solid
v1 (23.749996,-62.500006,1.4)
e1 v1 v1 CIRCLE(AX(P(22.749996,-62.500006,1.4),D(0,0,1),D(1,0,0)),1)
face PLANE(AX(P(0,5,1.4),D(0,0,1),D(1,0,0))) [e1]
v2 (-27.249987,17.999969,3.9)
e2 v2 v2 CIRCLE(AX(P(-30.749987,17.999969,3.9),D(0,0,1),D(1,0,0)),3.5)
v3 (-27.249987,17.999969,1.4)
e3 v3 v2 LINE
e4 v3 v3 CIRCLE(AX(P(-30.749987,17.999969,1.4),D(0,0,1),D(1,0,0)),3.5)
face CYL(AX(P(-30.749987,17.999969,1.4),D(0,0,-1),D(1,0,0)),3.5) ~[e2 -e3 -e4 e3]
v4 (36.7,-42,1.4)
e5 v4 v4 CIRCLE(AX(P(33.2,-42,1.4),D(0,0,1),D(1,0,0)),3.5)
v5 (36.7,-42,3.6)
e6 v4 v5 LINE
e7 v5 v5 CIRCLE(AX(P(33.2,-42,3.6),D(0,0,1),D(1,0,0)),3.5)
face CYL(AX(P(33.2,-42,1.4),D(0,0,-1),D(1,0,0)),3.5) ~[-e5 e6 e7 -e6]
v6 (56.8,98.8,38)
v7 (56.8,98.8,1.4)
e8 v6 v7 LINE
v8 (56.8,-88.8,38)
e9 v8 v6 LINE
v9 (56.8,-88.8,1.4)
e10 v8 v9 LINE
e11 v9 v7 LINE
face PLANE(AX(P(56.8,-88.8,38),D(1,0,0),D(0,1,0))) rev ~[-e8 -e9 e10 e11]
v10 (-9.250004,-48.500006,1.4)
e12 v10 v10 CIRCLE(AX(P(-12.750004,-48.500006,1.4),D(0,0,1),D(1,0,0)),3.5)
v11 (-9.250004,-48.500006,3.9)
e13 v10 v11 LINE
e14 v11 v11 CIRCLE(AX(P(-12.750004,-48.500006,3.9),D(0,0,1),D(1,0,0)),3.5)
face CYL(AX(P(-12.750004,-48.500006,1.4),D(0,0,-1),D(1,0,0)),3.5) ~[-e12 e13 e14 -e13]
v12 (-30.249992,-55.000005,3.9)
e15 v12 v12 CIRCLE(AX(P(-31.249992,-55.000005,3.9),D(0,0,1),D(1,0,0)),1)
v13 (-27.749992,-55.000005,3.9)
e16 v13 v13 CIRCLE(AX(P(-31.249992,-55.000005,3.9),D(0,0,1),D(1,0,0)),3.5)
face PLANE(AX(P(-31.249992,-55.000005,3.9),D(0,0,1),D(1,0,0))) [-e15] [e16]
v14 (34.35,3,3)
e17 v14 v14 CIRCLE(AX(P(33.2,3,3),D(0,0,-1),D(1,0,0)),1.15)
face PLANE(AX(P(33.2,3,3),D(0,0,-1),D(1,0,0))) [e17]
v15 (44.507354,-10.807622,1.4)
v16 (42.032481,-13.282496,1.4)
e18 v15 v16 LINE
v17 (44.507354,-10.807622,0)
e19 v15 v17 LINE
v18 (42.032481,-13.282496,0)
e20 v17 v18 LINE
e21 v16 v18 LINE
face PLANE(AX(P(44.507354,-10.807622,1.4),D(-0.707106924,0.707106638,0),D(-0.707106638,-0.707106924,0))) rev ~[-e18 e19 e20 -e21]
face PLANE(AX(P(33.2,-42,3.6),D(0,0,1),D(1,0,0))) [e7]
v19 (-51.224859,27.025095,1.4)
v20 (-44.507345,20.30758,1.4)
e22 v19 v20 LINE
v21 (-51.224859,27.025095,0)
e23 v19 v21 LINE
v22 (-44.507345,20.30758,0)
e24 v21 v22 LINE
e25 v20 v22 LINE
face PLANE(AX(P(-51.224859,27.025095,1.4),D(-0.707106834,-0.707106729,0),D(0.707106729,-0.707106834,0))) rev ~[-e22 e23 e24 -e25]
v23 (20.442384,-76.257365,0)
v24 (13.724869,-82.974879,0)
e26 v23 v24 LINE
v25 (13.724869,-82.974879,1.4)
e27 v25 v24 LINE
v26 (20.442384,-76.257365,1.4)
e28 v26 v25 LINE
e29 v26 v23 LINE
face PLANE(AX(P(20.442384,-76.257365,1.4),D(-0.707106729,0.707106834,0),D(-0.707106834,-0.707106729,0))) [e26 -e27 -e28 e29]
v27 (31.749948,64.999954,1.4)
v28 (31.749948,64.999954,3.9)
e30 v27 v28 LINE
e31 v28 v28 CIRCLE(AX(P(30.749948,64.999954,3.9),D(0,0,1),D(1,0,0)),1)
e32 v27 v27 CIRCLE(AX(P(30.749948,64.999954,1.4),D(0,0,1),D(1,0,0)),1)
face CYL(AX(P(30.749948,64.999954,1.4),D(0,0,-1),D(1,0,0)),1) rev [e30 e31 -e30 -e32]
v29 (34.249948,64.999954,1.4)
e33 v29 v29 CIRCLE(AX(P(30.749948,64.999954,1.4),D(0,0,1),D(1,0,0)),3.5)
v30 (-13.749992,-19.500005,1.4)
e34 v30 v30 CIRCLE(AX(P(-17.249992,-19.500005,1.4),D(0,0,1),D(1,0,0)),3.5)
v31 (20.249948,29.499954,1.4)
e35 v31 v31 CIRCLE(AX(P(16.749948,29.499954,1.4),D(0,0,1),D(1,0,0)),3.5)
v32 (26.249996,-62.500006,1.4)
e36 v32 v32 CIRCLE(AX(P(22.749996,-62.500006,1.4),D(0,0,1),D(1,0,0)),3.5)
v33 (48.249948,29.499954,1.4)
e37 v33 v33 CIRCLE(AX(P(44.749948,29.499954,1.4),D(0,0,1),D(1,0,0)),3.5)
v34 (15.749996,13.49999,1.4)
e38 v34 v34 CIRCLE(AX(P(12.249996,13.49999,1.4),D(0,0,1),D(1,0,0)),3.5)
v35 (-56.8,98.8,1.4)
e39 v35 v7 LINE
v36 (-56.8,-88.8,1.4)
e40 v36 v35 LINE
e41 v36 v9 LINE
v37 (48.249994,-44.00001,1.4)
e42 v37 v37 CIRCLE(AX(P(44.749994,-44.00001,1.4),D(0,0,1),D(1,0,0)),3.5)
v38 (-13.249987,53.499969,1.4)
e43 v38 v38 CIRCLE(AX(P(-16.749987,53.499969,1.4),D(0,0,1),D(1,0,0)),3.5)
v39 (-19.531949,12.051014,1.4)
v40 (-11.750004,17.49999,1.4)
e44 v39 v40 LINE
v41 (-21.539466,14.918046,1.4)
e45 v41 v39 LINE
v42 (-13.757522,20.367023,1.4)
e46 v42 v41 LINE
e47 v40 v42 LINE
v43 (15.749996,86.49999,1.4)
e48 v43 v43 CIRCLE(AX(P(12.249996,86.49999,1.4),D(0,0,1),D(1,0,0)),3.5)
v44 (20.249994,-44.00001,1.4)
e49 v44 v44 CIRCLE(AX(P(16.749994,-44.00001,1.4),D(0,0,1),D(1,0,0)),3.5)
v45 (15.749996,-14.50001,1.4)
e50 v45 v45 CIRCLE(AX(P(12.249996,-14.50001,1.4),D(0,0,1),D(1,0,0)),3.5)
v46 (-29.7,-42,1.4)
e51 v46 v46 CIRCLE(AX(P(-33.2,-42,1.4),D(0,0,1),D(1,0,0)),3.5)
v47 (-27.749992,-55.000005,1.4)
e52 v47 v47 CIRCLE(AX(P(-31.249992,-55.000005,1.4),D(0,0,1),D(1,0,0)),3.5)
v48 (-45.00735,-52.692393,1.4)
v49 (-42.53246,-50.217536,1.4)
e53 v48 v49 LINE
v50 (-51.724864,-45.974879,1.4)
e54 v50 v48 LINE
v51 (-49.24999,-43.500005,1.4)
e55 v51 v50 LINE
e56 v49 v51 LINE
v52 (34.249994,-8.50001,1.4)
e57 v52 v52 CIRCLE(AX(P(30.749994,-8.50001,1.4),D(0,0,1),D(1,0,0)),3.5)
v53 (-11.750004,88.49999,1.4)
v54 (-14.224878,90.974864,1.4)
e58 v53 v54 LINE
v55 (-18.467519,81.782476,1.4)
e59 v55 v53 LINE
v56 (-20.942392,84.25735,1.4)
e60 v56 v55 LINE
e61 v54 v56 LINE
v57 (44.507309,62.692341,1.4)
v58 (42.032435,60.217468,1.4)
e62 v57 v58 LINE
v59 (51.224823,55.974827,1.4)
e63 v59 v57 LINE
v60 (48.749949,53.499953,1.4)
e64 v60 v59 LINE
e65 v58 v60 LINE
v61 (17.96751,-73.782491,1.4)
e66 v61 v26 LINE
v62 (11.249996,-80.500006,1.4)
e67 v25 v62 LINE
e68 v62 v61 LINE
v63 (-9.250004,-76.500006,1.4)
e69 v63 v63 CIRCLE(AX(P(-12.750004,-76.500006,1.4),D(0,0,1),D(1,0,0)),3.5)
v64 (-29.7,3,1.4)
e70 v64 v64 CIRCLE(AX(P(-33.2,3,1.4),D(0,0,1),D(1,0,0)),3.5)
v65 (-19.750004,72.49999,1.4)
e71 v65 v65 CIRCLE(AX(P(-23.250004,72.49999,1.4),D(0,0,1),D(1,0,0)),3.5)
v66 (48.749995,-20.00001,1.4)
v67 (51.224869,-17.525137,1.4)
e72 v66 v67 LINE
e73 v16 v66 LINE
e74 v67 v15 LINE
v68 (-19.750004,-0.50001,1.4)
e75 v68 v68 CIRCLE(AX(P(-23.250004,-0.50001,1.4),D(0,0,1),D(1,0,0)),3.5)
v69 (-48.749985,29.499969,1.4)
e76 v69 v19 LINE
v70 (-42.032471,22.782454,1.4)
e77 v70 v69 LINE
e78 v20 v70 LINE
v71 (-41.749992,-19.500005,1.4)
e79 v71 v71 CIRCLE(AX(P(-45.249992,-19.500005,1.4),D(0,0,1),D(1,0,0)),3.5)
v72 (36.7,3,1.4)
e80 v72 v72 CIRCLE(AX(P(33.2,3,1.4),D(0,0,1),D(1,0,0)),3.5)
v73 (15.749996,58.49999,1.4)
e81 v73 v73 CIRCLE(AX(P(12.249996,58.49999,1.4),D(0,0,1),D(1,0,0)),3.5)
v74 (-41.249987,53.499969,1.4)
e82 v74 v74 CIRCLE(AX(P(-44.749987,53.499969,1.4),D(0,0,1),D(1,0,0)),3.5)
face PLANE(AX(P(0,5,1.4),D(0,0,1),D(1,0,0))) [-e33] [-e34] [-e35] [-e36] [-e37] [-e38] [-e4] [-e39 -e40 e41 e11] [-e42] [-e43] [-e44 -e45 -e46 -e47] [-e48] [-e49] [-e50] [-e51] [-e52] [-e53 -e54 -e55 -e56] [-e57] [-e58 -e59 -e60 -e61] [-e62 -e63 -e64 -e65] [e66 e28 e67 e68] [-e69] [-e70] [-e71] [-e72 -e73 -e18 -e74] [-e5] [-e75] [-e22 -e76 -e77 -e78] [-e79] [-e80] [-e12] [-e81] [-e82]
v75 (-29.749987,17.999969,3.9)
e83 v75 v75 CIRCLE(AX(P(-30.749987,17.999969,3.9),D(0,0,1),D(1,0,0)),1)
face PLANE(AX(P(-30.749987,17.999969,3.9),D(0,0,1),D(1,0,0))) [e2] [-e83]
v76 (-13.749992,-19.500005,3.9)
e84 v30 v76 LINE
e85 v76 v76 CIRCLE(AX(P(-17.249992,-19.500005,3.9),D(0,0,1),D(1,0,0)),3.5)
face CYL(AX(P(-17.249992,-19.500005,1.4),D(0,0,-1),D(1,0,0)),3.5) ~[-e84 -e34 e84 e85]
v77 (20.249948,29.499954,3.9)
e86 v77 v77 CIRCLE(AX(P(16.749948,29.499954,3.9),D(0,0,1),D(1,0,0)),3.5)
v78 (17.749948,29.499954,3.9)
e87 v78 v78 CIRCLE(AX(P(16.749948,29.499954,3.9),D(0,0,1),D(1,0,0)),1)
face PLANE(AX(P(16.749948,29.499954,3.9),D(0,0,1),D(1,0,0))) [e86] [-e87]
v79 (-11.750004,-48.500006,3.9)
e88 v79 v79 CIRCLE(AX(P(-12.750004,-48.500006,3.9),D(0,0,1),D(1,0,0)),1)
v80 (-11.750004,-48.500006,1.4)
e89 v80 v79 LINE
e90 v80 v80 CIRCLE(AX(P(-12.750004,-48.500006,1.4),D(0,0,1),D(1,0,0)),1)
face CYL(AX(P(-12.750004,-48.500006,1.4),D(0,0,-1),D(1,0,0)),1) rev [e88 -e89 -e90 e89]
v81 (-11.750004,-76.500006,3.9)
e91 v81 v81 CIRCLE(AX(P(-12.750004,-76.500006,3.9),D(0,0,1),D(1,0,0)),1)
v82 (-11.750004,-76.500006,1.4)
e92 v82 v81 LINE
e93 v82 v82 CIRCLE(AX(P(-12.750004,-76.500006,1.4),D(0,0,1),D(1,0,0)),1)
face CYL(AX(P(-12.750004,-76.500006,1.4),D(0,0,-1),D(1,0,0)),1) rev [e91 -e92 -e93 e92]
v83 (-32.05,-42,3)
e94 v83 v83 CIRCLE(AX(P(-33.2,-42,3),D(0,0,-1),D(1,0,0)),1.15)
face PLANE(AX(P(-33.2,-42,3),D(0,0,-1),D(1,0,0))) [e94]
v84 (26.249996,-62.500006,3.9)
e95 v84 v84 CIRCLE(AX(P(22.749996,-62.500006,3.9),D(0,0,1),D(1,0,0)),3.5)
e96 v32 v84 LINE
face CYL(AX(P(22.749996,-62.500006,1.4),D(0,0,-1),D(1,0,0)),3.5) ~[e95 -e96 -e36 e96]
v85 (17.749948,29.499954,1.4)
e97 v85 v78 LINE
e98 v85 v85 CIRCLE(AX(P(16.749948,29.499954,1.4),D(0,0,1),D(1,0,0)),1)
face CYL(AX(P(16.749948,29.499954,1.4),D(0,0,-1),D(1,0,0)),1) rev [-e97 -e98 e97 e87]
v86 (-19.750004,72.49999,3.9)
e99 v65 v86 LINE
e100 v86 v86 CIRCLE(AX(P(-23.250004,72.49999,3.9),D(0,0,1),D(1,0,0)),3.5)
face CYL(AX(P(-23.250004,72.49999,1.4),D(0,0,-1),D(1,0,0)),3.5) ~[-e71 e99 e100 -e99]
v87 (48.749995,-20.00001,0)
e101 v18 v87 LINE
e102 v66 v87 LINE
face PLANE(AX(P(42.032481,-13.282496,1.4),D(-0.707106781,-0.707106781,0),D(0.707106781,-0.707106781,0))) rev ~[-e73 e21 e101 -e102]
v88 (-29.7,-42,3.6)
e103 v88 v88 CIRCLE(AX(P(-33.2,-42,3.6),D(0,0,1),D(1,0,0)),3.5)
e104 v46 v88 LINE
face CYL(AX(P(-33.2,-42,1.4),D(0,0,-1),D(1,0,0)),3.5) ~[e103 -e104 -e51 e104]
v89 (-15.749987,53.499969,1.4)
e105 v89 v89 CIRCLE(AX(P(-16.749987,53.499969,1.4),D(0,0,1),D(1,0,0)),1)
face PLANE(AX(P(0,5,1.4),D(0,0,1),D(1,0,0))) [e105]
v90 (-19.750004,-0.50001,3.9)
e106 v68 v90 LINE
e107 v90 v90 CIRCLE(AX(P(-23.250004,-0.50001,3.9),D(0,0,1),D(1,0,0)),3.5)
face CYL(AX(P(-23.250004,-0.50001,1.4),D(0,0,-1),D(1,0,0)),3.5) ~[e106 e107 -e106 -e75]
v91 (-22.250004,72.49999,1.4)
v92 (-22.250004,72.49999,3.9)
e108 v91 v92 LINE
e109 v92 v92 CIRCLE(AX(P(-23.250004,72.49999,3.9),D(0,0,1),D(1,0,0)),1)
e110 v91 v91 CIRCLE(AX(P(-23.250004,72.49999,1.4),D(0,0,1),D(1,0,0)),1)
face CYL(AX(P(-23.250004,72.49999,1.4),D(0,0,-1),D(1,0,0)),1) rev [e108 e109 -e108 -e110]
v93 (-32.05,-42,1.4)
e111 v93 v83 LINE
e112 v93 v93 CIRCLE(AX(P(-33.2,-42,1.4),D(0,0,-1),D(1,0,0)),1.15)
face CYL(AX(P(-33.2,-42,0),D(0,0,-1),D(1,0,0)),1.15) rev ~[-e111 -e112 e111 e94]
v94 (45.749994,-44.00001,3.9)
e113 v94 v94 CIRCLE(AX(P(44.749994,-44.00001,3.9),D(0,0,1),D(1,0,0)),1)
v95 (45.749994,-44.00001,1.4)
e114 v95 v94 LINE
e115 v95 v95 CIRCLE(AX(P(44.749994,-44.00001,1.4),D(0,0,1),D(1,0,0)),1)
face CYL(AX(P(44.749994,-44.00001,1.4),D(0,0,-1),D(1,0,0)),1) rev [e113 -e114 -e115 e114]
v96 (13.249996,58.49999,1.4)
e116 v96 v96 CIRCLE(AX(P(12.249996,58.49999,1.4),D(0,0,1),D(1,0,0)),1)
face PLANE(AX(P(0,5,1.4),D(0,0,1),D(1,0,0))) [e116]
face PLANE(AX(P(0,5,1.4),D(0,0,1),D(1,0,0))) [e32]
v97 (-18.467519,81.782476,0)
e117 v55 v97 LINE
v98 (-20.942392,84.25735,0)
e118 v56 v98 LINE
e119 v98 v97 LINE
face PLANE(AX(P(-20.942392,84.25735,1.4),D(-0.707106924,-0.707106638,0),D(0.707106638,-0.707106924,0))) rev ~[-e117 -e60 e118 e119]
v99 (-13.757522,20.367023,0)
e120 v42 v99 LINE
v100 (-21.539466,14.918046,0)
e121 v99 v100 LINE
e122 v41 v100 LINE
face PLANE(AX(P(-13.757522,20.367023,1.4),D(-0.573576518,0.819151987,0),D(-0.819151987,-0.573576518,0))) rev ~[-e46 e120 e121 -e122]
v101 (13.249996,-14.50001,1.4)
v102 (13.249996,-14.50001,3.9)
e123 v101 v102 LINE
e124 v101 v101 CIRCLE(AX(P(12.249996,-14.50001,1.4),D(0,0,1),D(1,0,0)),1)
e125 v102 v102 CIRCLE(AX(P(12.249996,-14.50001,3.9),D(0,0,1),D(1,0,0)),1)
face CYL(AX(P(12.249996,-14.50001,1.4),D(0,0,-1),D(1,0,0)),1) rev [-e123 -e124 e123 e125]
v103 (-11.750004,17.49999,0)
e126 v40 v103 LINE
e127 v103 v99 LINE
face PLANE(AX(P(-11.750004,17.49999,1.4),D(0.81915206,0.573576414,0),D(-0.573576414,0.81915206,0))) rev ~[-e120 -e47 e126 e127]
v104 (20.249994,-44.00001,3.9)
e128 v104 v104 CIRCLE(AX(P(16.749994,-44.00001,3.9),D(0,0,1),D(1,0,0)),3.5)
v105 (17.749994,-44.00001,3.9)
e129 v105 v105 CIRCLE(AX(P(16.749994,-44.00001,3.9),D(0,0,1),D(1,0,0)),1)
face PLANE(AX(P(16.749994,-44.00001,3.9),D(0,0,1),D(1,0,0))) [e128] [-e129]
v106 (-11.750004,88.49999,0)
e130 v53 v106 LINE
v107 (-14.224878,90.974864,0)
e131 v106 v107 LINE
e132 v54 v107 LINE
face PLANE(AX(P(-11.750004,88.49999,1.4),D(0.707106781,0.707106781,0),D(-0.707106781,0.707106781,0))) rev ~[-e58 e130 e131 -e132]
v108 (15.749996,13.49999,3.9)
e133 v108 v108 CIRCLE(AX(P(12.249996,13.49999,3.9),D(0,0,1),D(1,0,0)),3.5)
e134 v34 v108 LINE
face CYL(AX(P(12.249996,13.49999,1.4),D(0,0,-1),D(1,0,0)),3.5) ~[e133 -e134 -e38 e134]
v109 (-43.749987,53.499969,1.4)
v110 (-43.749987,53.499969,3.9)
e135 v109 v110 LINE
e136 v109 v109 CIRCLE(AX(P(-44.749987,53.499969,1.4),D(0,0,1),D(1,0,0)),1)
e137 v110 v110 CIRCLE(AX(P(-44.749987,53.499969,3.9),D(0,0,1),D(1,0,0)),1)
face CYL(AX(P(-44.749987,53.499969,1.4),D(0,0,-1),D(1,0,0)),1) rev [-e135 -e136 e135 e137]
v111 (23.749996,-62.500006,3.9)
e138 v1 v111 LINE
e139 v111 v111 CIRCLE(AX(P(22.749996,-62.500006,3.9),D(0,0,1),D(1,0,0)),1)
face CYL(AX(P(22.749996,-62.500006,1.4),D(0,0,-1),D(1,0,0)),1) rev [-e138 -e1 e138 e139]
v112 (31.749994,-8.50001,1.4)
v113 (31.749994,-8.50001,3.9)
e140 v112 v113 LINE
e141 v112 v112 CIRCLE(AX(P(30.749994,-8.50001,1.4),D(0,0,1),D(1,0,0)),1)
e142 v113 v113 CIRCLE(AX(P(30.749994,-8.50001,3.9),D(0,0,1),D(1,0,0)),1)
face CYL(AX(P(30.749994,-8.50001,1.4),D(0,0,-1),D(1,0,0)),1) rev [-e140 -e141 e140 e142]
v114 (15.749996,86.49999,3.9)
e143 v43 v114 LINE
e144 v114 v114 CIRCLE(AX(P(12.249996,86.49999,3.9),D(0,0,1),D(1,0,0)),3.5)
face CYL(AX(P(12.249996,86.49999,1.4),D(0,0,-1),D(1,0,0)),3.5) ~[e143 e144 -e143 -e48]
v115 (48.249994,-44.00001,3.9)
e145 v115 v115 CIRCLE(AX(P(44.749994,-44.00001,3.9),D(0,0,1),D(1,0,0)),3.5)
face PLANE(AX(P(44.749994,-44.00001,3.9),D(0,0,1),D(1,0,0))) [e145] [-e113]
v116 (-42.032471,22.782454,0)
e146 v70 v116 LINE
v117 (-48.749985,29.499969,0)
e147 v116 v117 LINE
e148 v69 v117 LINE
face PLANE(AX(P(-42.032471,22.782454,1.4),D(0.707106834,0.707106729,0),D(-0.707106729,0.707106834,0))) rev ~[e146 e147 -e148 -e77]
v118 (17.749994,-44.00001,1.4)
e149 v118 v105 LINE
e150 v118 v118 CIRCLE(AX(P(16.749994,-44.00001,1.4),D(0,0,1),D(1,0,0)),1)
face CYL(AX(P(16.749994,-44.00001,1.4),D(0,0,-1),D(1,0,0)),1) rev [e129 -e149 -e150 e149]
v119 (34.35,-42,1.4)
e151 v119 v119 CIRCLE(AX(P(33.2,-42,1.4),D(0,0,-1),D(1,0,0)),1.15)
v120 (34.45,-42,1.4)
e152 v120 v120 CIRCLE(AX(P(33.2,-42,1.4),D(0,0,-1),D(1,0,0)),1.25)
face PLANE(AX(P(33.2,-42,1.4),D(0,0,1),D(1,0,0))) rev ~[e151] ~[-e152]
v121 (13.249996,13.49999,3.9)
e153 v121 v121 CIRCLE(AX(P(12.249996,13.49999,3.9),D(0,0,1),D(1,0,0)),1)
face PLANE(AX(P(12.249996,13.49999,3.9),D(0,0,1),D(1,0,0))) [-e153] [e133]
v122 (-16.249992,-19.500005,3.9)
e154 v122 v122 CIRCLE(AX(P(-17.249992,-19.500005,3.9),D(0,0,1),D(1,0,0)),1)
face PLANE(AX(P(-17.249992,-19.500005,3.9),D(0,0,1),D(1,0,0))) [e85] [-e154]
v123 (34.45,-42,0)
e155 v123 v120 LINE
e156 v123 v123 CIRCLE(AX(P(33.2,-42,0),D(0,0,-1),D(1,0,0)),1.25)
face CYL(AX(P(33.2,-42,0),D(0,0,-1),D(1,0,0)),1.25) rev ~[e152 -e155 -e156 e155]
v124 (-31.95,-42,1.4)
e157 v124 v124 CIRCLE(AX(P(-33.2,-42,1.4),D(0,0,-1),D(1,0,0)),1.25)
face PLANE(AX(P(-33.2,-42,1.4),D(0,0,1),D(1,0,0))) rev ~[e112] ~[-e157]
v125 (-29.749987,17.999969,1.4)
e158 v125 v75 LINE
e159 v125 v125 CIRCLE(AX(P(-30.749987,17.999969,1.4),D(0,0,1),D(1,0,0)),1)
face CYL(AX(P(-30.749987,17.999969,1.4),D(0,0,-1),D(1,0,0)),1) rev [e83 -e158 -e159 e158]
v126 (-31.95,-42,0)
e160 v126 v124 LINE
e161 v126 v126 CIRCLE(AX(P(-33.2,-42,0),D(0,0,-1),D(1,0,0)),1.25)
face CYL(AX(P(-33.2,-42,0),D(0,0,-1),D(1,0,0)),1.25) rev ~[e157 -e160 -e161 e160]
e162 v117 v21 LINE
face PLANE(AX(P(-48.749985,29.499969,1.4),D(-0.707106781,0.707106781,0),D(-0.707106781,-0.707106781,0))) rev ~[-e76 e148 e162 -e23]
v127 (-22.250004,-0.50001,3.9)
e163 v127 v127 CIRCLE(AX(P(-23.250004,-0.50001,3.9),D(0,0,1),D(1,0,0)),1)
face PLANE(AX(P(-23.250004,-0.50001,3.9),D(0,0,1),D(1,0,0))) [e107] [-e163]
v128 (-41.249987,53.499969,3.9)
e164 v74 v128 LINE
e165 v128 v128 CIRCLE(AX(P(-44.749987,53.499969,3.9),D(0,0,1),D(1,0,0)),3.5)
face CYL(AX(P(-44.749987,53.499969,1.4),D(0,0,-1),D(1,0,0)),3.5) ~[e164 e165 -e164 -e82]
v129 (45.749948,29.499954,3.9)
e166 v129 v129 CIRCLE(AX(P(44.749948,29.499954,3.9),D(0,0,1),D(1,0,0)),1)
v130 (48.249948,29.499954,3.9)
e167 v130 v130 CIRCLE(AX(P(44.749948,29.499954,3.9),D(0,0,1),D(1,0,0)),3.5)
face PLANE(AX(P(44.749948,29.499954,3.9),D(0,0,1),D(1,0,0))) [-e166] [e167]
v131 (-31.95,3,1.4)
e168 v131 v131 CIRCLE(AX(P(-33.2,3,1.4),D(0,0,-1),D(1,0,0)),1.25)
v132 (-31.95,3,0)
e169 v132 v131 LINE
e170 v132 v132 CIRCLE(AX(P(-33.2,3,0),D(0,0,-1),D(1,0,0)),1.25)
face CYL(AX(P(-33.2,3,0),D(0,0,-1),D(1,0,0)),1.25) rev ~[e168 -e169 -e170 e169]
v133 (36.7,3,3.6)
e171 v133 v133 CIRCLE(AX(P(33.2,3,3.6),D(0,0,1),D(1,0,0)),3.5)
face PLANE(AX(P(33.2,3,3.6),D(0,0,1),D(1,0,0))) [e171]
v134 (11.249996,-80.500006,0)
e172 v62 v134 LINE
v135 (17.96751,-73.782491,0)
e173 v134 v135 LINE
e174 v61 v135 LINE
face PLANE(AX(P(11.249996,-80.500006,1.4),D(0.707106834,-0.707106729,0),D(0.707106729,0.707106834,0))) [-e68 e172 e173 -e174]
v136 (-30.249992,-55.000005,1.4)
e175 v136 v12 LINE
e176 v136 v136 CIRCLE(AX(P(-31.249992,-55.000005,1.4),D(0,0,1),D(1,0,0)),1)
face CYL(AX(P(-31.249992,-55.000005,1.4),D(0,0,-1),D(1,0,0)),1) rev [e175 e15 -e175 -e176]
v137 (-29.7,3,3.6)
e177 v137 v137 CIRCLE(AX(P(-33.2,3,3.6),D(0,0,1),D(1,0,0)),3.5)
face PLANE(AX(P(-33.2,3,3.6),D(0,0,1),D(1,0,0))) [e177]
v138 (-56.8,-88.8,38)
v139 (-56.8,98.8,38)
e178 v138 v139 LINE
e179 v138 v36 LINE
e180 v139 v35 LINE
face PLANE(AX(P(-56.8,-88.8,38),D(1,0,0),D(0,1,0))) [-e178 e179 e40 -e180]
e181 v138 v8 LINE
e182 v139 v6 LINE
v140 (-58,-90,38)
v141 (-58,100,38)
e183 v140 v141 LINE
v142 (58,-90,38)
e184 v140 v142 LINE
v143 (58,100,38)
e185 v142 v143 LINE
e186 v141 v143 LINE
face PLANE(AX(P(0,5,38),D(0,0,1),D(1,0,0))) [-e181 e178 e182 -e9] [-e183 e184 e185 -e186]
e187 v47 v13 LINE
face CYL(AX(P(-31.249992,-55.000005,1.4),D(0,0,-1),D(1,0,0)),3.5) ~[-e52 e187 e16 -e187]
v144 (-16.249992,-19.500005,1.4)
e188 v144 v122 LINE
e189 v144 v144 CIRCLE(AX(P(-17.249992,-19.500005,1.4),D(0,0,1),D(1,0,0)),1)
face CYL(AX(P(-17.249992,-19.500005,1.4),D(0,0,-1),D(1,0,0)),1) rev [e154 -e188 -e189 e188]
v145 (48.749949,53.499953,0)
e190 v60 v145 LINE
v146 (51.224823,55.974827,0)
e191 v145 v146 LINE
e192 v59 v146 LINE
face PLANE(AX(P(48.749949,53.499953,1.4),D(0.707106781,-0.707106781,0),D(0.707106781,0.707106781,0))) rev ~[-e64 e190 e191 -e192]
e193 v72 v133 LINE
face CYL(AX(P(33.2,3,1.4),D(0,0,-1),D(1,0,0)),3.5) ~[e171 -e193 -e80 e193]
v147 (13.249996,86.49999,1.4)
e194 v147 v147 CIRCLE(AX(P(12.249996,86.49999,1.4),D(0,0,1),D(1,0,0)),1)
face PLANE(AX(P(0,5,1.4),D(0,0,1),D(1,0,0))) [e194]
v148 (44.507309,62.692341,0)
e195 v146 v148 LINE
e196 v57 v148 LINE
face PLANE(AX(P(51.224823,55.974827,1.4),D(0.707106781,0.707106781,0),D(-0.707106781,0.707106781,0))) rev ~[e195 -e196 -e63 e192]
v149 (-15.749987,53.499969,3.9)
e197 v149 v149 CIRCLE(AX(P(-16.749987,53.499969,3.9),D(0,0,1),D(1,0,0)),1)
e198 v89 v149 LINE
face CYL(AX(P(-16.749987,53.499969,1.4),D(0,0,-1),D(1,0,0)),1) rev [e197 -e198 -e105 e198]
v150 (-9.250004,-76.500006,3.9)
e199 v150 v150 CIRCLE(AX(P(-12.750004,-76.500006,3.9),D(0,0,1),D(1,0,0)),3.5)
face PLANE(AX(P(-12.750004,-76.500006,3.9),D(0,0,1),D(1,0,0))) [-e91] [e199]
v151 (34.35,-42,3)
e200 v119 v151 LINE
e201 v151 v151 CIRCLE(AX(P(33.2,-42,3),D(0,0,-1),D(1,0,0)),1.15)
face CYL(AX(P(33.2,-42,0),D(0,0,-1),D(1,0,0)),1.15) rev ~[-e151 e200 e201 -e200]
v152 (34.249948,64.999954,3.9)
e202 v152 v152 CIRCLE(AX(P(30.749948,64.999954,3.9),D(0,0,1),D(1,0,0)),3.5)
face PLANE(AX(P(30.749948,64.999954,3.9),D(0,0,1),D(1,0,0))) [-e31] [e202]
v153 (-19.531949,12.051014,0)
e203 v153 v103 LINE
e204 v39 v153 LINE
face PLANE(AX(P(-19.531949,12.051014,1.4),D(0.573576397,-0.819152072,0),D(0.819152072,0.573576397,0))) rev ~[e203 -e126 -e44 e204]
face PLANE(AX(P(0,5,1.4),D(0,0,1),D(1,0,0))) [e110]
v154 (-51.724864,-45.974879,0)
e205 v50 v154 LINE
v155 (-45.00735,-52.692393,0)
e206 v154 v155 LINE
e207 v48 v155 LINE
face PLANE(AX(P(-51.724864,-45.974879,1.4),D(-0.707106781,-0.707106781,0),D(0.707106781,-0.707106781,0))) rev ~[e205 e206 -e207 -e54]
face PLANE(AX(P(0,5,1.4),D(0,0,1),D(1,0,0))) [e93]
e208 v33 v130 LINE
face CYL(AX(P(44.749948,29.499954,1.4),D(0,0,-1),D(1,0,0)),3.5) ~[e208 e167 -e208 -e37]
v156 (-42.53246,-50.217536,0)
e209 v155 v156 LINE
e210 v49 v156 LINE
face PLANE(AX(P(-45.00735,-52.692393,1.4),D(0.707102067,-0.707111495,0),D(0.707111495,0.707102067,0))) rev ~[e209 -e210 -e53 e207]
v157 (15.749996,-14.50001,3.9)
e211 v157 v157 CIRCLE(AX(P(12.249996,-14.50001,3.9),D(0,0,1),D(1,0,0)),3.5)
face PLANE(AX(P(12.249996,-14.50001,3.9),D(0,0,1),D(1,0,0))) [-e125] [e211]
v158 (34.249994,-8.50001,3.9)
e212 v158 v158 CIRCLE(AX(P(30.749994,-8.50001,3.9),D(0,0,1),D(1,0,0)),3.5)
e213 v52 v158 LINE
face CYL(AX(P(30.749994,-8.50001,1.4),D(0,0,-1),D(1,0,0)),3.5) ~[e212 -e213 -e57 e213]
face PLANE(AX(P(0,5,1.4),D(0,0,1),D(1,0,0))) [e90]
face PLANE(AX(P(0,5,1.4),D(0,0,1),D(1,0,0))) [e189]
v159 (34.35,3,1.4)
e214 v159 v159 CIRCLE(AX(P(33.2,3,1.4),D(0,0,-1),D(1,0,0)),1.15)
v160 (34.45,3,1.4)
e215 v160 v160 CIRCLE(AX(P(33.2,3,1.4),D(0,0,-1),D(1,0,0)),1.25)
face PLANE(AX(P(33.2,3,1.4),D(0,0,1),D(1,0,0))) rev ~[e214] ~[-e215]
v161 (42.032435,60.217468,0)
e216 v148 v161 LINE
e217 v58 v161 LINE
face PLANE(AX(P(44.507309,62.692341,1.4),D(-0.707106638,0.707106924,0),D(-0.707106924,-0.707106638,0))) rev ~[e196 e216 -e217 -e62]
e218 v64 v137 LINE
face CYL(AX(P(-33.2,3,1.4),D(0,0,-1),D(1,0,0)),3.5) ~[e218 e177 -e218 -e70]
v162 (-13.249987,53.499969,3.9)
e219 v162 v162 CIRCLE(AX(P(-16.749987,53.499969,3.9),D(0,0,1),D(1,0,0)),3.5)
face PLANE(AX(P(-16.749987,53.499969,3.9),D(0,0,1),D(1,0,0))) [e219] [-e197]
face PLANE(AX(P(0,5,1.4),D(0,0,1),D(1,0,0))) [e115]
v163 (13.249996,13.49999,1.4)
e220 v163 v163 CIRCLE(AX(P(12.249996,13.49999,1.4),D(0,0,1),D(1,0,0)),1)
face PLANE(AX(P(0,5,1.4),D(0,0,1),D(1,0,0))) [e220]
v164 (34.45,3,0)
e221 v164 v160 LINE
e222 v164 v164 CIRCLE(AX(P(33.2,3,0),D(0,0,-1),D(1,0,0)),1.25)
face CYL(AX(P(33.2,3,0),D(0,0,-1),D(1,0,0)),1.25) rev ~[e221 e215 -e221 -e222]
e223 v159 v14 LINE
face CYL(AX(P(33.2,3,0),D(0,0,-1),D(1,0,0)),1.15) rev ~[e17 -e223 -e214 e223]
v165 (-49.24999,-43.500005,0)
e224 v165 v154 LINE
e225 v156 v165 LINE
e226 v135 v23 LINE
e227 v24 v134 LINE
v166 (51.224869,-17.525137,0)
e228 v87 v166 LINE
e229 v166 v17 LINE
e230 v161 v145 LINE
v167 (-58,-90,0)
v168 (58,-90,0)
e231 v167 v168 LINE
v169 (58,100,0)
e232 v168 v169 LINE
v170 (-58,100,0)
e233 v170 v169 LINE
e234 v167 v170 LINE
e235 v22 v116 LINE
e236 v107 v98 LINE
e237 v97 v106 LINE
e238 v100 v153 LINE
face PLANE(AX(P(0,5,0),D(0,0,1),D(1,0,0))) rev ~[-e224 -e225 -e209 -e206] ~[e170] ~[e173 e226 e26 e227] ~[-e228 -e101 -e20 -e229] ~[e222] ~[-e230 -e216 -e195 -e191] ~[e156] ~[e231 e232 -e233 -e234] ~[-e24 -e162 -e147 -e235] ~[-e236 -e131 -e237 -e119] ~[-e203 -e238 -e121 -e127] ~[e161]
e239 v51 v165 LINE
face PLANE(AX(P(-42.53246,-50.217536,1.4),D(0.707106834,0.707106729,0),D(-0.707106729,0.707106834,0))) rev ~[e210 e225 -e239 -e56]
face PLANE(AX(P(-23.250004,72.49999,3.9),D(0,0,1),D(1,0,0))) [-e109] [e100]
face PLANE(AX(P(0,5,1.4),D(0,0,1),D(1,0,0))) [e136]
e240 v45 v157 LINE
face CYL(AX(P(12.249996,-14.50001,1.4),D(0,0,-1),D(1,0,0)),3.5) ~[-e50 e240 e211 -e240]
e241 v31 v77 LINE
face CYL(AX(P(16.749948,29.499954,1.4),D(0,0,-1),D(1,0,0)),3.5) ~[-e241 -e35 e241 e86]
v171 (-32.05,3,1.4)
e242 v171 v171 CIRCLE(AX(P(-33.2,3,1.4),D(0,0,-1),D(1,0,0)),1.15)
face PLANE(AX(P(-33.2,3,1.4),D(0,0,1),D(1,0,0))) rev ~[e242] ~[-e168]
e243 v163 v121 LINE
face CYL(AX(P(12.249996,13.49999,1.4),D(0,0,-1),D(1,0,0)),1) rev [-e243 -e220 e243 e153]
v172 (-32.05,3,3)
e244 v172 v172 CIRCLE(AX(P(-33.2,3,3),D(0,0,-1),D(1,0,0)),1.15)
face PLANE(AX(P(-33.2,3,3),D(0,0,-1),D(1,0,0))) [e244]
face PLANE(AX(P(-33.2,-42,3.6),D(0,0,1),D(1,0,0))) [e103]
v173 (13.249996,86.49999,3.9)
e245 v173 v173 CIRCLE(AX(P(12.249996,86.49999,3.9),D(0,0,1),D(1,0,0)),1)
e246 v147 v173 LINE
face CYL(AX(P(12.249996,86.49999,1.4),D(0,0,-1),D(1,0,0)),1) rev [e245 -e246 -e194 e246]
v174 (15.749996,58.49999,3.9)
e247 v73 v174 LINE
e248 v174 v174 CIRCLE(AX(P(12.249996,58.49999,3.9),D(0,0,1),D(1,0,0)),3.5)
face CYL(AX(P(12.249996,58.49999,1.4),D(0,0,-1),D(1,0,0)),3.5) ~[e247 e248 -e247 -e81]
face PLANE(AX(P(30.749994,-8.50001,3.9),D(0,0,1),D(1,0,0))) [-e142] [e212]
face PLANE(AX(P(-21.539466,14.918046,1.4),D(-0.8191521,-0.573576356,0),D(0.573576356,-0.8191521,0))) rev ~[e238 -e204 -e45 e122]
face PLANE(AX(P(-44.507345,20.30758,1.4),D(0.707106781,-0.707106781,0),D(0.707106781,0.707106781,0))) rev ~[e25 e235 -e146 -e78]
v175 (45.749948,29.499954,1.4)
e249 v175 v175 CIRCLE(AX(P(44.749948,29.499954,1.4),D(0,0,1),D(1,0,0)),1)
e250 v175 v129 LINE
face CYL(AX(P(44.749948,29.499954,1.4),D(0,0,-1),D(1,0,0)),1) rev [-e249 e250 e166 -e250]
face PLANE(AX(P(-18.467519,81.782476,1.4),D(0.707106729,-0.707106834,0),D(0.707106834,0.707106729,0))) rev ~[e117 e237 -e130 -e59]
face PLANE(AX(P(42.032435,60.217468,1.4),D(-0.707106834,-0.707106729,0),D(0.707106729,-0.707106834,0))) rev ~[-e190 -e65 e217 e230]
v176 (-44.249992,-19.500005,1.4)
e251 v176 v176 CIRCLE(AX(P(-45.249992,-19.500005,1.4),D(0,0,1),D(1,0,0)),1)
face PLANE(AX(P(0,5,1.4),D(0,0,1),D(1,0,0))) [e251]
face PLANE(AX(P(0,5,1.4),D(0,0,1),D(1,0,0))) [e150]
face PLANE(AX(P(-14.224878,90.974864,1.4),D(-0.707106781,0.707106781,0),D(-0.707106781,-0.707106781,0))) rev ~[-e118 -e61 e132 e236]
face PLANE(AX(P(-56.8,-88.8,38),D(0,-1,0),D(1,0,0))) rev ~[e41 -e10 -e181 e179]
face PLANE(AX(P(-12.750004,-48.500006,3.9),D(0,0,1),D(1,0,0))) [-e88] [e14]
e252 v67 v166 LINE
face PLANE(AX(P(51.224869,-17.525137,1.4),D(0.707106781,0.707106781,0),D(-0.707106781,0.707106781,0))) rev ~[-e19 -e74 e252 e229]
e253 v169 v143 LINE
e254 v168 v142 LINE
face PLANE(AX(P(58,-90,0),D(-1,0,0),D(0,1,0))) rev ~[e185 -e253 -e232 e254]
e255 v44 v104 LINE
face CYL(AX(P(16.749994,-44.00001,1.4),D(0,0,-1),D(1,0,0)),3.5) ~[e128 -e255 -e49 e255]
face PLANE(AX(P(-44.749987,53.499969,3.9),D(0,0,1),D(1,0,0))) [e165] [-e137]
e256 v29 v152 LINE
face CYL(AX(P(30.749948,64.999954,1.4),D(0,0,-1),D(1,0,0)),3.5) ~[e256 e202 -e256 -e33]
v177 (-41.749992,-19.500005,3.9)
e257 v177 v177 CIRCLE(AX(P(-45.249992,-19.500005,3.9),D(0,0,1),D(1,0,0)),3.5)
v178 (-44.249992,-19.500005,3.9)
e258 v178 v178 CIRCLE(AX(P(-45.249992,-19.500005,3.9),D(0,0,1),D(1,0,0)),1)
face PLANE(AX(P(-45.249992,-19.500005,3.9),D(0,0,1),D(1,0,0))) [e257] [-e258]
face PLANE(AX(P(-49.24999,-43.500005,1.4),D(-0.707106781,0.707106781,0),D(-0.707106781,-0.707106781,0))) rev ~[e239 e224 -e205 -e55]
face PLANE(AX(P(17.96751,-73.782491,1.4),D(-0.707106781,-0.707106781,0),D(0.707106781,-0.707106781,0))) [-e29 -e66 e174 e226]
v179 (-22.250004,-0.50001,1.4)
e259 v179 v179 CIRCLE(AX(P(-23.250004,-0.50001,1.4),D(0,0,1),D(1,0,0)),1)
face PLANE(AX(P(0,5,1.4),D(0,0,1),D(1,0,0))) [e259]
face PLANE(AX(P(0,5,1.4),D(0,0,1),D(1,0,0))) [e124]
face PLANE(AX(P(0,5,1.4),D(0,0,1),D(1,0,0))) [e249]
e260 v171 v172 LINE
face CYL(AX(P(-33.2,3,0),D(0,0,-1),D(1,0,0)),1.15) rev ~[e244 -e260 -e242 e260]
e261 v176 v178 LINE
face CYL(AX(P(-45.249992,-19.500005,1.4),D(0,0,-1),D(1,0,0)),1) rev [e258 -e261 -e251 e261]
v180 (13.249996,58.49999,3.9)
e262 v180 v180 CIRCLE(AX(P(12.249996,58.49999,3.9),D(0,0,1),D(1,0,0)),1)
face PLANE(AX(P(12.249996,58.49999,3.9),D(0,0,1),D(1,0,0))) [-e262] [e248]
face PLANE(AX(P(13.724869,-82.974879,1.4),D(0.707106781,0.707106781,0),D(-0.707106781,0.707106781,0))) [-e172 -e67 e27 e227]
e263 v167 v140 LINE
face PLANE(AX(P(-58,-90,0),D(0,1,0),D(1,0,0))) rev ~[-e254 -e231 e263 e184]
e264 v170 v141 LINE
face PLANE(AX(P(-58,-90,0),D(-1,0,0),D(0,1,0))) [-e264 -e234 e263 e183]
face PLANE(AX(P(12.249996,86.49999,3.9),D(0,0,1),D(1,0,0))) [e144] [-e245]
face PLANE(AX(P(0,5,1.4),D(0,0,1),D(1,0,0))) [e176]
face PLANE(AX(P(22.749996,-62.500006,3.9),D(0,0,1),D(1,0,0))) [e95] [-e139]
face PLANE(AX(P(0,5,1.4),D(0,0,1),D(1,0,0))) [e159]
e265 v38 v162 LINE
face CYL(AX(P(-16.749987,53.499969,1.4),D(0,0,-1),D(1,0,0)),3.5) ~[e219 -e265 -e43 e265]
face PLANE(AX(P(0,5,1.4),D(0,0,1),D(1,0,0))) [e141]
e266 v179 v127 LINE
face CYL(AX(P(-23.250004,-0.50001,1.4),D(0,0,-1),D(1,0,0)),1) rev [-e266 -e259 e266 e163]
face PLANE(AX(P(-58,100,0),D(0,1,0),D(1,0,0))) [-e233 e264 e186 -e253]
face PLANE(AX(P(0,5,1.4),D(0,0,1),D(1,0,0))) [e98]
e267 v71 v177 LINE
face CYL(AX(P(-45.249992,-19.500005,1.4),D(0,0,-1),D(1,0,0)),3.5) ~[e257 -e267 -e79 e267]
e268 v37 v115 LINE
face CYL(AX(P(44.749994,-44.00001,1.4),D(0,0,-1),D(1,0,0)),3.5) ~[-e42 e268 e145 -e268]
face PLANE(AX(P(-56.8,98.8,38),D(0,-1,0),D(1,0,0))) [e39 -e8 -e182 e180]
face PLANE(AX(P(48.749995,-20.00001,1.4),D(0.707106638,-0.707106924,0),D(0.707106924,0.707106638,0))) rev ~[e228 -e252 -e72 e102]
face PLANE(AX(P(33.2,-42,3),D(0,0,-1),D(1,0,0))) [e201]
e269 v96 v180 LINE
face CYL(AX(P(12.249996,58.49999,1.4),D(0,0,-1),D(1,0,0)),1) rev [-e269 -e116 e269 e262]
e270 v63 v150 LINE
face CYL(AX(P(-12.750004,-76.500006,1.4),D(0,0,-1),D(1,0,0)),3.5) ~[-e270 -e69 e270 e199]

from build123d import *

# Parameters (mm, degrees)
SKETCH_W        = 116
SKETCH_H        = 190
PAD_DEPTH       = 38
SKETCH001_W     = 113.6
SKETCH001_H     = 187.6
POCKET_DEPTH    = 36.6
SKETCH037_R     = 1.25
POCKET007_DEPTH = 38.001
SKETCH002_R     = 3.5
SKETCH002_R_2   = 1
PAD031_DEPTH    = 2.5
SKETCH036_R     = 3.5
PAD032_DEPTH    = 2.2
SKETCH053_R     = 1.15
POCKET016_DEPTH = 3
POCKET017_DEPTH = 1.4


with BuildPart() as part:
    # Sketch → Pad (new body)
    with BuildSketch(Plane.XY):
        Rectangle(SKETCH_W, SKETCH_H)
    extrude(amount=PAD_DEPTH)

    # Sketch001 (on DatumPlane) → Pocket (cut)
    with BuildSketch(Plane.XY.offset(38)):
        Rectangle(SKETCH001_W, SKETCH001_H)
    extrude(amount=-POCKET_DEPTH, mode=Mode.SUBTRACT)

    # Sketch037 → Pocket007 (cut, through all)
    with BuildSketch(Plane(origin=(0, 0, 0), x_dir=(1, 0, 0), z_dir=(0, 0, -1))):
        with Locations((33.2, 2)):
            Circle(SKETCH037_R)
        with Locations((-33.2, 2)):
            Circle(SKETCH037_R)
        with Locations((33.2, 47)):
            Circle(SKETCH037_R)
        with Locations((-33.2, 47)):
            Circle(SKETCH037_R)
    extrude(amount=-POCKET007_DEPTH, mode=Mode.SUBTRACT)

    # Sketch002 (on Face15 of Pocket007) → Pad031 (join)
    with BuildSketch(Plane.XY.offset(1.4)):
        with Locations((12.249996, 81.49999)):
            Circle(SKETCH002_R)
        with Locations((12.249996, 81.49999)):
            Circle(SKETCH002_R_2, mode=Mode.SUBTRACT)
        with Locations((12.249996, 53.49999)):
            Circle(SKETCH002_R)
        with Locations((12.249996, 53.49999)):
            Circle(SKETCH002_R_2, mode=Mode.SUBTRACT)
        with Locations((-23.250004, 67.49999)):
            Circle(SKETCH002_R)
        with Locations((-23.250004, 67.49999)):
            Circle(SKETCH002_R_2, mode=Mode.SUBTRACT)
        with Locations((30.749948, 59.999954)):
            Circle(SKETCH002_R)
        with Locations((30.749948, 59.999954)):
            Circle(SKETCH002_R_2, mode=Mode.SUBTRACT)
        with Locations((44.749948, 24.499954)):
            Circle(SKETCH002_R)
        with Locations((44.749948, 24.499954)):
            Circle(SKETCH002_R_2, mode=Mode.SUBTRACT)
        with Locations((16.749948, 24.499954)):
            Circle(SKETCH002_R)
        with Locations((16.749948, 24.499954)):
            Circle(SKETCH002_R_2, mode=Mode.SUBTRACT)
        with Locations((30.749994, -13.50001)):
            Circle(SKETCH002_R)
        with Locations((30.749994, -13.50001)):
            Circle(SKETCH002_R_2, mode=Mode.SUBTRACT)
        with Locations((44.749994, -49.00001)):
            Circle(SKETCH002_R)
        with Locations((44.749994, -49.00001)):
            Circle(SKETCH002_R_2, mode=Mode.SUBTRACT)
        with Locations((16.749994, -49.00001)):
            Circle(SKETCH002_R)
        with Locations((16.749994, -49.00001)):
            Circle(SKETCH002_R_2, mode=Mode.SUBTRACT)
        with Locations((22.749996, -67.500006)):
            Circle(SKETCH002_R)
        with Locations((22.749996, -67.500006)):
            Circle(SKETCH002_R_2, mode=Mode.SUBTRACT)
        with Locations((-12.750004, -53.500006)):
            Circle(SKETCH002_R)
        with Locations((-12.750004, -53.500006)):
            Circle(SKETCH002_R_2, mode=Mode.SUBTRACT)
        with Locations((-12.750004, -81.500006)):
            Circle(SKETCH002_R)
        with Locations((-12.750004, -81.500006)):
            Circle(SKETCH002_R_2, mode=Mode.SUBTRACT)
        with Locations((-31.249992, -60.000005)):
            Circle(SKETCH002_R)
        with Locations((-31.249992, -60.000005)):
            Circle(SKETCH002_R_2, mode=Mode.SUBTRACT)
        with Locations((-45.249992, -24.500005)):
            Circle(SKETCH002_R)
        with Locations((-45.249992, -24.500005)):
            Circle(SKETCH002_R_2, mode=Mode.SUBTRACT)
        with Locations((-17.249992, -24.500005)):
            Circle(SKETCH002_R)
        with Locations((-17.249992, -24.500005)):
            Circle(SKETCH002_R_2, mode=Mode.SUBTRACT)
        with Locations((-44.749987, 48.499969)):
            Circle(SKETCH002_R)
        with Locations((-44.749987, 48.499969)):
            Circle(SKETCH002_R_2, mode=Mode.SUBTRACT)
        with Locations((-16.749987, 48.499969)):
            Circle(SKETCH002_R)
        with Locations((-16.749987, 48.499969)):
            Circle(SKETCH002_R_2, mode=Mode.SUBTRACT)
        with Locations((-30.749987, 12.999969)):
            Circle(SKETCH002_R)
        with Locations((-30.749987, 12.999969)):
            Circle(SKETCH002_R_2, mode=Mode.SUBTRACT)
        with Locations((12.249996, 8.49999)):
            Circle(SKETCH002_R)
        with Locations((12.249996, 8.49999)):
            Circle(SKETCH002_R_2, mode=Mode.SUBTRACT)
        with Locations((12.249996, -19.50001)):
            Circle(SKETCH002_R)
        with Locations((12.249996, -19.50001)):
            Circle(SKETCH002_R_2, mode=Mode.SUBTRACT)
        with Locations((-23.250004, -5.50001)):
            Circle(SKETCH002_R)
        with Locations((-23.250004, -5.50001)):
            Circle(SKETCH002_R_2, mode=Mode.SUBTRACT)
    extrude(amount=PAD031_DEPTH)

    # Sketch036 (on Face15 of Pad031) → Pad032 (join)
    with BuildSketch(Plane.XY.offset(1.4)):
        with Locations((33.2, -2)):
            Circle(SKETCH036_R)
        with Locations((-33.2, -2)):
            Circle(SKETCH036_R)
        with Locations((33.2, -47)):
            Circle(SKETCH036_R)
        with Locations((-33.2, -47)):
            Circle(SKETCH036_R)
    extrude(amount=PAD032_DEPTH)

    # Sketch053 (on Face4 of Pad032) → Pocket016 (cut)
    with BuildSketch(Plane(origin=(0, 0, 0), x_dir=(1, 0, 0), z_dir=(0, 0, -1))):
        with Locations((-33.2, 47)):
            Circle(SKETCH053_R)
        with Locations((33.2, 47)):
            Circle(SKETCH053_R)
        with Locations((33.2, 2)):
            Circle(SKETCH053_R)
        with Locations((-33.2, 2)):
            Circle(SKETCH053_R)
    extrude(amount=-POCKET016_DEPTH, mode=Mode.SUBTRACT)

    # Sketch076 (on Face19 of Pocket016) → Pocket017 (cut)
    with BuildSketch(Plane.XY.offset(1.4)):
        Polygon((-51.224859, 22.025095), (-44.507345, 15.30758), (-42.032471, 17.782454), (-48.749985, 24.499969), align=None)
        Polygon((-51.724864, -50.974879), (-45.00735, -57.692393), (-42.53246, -55.217536), (-49.24999, -48.500005), align=None)
        Polygon((11.249996, -85.500006), (17.96751, -78.782491), (20.442384, -81.257365), (13.724869, -87.974879), align=None)
        Polygon((42.032481, -18.282496), (48.749995, -25.00001), (51.224869, -22.525137), (44.507354, -15.807622), align=None)
        Polygon((42.032435, 55.217468), (48.749949, 48.499953), (51.224823, 50.974827), (44.507309, 57.692341), align=None)
        Polygon((-19.531949, 7.051014), (-11.750004, 12.49999), (-13.757522, 15.367023), (-21.539466, 9.918046), align=None)
        Polygon((-18.467519, 76.782476), (-11.750004, 83.49999), (-14.224878, 85.974864), (-20.942392, 79.25735), align=None)
    extrude(amount=-POCKET017_DEPTH, mode=Mode.SUBTRACT)


with BuildPart() as part_1:
    # Body placement: moved
    add(part.part.moved(Location((0, 5, 0))))


solid = part_1.part
